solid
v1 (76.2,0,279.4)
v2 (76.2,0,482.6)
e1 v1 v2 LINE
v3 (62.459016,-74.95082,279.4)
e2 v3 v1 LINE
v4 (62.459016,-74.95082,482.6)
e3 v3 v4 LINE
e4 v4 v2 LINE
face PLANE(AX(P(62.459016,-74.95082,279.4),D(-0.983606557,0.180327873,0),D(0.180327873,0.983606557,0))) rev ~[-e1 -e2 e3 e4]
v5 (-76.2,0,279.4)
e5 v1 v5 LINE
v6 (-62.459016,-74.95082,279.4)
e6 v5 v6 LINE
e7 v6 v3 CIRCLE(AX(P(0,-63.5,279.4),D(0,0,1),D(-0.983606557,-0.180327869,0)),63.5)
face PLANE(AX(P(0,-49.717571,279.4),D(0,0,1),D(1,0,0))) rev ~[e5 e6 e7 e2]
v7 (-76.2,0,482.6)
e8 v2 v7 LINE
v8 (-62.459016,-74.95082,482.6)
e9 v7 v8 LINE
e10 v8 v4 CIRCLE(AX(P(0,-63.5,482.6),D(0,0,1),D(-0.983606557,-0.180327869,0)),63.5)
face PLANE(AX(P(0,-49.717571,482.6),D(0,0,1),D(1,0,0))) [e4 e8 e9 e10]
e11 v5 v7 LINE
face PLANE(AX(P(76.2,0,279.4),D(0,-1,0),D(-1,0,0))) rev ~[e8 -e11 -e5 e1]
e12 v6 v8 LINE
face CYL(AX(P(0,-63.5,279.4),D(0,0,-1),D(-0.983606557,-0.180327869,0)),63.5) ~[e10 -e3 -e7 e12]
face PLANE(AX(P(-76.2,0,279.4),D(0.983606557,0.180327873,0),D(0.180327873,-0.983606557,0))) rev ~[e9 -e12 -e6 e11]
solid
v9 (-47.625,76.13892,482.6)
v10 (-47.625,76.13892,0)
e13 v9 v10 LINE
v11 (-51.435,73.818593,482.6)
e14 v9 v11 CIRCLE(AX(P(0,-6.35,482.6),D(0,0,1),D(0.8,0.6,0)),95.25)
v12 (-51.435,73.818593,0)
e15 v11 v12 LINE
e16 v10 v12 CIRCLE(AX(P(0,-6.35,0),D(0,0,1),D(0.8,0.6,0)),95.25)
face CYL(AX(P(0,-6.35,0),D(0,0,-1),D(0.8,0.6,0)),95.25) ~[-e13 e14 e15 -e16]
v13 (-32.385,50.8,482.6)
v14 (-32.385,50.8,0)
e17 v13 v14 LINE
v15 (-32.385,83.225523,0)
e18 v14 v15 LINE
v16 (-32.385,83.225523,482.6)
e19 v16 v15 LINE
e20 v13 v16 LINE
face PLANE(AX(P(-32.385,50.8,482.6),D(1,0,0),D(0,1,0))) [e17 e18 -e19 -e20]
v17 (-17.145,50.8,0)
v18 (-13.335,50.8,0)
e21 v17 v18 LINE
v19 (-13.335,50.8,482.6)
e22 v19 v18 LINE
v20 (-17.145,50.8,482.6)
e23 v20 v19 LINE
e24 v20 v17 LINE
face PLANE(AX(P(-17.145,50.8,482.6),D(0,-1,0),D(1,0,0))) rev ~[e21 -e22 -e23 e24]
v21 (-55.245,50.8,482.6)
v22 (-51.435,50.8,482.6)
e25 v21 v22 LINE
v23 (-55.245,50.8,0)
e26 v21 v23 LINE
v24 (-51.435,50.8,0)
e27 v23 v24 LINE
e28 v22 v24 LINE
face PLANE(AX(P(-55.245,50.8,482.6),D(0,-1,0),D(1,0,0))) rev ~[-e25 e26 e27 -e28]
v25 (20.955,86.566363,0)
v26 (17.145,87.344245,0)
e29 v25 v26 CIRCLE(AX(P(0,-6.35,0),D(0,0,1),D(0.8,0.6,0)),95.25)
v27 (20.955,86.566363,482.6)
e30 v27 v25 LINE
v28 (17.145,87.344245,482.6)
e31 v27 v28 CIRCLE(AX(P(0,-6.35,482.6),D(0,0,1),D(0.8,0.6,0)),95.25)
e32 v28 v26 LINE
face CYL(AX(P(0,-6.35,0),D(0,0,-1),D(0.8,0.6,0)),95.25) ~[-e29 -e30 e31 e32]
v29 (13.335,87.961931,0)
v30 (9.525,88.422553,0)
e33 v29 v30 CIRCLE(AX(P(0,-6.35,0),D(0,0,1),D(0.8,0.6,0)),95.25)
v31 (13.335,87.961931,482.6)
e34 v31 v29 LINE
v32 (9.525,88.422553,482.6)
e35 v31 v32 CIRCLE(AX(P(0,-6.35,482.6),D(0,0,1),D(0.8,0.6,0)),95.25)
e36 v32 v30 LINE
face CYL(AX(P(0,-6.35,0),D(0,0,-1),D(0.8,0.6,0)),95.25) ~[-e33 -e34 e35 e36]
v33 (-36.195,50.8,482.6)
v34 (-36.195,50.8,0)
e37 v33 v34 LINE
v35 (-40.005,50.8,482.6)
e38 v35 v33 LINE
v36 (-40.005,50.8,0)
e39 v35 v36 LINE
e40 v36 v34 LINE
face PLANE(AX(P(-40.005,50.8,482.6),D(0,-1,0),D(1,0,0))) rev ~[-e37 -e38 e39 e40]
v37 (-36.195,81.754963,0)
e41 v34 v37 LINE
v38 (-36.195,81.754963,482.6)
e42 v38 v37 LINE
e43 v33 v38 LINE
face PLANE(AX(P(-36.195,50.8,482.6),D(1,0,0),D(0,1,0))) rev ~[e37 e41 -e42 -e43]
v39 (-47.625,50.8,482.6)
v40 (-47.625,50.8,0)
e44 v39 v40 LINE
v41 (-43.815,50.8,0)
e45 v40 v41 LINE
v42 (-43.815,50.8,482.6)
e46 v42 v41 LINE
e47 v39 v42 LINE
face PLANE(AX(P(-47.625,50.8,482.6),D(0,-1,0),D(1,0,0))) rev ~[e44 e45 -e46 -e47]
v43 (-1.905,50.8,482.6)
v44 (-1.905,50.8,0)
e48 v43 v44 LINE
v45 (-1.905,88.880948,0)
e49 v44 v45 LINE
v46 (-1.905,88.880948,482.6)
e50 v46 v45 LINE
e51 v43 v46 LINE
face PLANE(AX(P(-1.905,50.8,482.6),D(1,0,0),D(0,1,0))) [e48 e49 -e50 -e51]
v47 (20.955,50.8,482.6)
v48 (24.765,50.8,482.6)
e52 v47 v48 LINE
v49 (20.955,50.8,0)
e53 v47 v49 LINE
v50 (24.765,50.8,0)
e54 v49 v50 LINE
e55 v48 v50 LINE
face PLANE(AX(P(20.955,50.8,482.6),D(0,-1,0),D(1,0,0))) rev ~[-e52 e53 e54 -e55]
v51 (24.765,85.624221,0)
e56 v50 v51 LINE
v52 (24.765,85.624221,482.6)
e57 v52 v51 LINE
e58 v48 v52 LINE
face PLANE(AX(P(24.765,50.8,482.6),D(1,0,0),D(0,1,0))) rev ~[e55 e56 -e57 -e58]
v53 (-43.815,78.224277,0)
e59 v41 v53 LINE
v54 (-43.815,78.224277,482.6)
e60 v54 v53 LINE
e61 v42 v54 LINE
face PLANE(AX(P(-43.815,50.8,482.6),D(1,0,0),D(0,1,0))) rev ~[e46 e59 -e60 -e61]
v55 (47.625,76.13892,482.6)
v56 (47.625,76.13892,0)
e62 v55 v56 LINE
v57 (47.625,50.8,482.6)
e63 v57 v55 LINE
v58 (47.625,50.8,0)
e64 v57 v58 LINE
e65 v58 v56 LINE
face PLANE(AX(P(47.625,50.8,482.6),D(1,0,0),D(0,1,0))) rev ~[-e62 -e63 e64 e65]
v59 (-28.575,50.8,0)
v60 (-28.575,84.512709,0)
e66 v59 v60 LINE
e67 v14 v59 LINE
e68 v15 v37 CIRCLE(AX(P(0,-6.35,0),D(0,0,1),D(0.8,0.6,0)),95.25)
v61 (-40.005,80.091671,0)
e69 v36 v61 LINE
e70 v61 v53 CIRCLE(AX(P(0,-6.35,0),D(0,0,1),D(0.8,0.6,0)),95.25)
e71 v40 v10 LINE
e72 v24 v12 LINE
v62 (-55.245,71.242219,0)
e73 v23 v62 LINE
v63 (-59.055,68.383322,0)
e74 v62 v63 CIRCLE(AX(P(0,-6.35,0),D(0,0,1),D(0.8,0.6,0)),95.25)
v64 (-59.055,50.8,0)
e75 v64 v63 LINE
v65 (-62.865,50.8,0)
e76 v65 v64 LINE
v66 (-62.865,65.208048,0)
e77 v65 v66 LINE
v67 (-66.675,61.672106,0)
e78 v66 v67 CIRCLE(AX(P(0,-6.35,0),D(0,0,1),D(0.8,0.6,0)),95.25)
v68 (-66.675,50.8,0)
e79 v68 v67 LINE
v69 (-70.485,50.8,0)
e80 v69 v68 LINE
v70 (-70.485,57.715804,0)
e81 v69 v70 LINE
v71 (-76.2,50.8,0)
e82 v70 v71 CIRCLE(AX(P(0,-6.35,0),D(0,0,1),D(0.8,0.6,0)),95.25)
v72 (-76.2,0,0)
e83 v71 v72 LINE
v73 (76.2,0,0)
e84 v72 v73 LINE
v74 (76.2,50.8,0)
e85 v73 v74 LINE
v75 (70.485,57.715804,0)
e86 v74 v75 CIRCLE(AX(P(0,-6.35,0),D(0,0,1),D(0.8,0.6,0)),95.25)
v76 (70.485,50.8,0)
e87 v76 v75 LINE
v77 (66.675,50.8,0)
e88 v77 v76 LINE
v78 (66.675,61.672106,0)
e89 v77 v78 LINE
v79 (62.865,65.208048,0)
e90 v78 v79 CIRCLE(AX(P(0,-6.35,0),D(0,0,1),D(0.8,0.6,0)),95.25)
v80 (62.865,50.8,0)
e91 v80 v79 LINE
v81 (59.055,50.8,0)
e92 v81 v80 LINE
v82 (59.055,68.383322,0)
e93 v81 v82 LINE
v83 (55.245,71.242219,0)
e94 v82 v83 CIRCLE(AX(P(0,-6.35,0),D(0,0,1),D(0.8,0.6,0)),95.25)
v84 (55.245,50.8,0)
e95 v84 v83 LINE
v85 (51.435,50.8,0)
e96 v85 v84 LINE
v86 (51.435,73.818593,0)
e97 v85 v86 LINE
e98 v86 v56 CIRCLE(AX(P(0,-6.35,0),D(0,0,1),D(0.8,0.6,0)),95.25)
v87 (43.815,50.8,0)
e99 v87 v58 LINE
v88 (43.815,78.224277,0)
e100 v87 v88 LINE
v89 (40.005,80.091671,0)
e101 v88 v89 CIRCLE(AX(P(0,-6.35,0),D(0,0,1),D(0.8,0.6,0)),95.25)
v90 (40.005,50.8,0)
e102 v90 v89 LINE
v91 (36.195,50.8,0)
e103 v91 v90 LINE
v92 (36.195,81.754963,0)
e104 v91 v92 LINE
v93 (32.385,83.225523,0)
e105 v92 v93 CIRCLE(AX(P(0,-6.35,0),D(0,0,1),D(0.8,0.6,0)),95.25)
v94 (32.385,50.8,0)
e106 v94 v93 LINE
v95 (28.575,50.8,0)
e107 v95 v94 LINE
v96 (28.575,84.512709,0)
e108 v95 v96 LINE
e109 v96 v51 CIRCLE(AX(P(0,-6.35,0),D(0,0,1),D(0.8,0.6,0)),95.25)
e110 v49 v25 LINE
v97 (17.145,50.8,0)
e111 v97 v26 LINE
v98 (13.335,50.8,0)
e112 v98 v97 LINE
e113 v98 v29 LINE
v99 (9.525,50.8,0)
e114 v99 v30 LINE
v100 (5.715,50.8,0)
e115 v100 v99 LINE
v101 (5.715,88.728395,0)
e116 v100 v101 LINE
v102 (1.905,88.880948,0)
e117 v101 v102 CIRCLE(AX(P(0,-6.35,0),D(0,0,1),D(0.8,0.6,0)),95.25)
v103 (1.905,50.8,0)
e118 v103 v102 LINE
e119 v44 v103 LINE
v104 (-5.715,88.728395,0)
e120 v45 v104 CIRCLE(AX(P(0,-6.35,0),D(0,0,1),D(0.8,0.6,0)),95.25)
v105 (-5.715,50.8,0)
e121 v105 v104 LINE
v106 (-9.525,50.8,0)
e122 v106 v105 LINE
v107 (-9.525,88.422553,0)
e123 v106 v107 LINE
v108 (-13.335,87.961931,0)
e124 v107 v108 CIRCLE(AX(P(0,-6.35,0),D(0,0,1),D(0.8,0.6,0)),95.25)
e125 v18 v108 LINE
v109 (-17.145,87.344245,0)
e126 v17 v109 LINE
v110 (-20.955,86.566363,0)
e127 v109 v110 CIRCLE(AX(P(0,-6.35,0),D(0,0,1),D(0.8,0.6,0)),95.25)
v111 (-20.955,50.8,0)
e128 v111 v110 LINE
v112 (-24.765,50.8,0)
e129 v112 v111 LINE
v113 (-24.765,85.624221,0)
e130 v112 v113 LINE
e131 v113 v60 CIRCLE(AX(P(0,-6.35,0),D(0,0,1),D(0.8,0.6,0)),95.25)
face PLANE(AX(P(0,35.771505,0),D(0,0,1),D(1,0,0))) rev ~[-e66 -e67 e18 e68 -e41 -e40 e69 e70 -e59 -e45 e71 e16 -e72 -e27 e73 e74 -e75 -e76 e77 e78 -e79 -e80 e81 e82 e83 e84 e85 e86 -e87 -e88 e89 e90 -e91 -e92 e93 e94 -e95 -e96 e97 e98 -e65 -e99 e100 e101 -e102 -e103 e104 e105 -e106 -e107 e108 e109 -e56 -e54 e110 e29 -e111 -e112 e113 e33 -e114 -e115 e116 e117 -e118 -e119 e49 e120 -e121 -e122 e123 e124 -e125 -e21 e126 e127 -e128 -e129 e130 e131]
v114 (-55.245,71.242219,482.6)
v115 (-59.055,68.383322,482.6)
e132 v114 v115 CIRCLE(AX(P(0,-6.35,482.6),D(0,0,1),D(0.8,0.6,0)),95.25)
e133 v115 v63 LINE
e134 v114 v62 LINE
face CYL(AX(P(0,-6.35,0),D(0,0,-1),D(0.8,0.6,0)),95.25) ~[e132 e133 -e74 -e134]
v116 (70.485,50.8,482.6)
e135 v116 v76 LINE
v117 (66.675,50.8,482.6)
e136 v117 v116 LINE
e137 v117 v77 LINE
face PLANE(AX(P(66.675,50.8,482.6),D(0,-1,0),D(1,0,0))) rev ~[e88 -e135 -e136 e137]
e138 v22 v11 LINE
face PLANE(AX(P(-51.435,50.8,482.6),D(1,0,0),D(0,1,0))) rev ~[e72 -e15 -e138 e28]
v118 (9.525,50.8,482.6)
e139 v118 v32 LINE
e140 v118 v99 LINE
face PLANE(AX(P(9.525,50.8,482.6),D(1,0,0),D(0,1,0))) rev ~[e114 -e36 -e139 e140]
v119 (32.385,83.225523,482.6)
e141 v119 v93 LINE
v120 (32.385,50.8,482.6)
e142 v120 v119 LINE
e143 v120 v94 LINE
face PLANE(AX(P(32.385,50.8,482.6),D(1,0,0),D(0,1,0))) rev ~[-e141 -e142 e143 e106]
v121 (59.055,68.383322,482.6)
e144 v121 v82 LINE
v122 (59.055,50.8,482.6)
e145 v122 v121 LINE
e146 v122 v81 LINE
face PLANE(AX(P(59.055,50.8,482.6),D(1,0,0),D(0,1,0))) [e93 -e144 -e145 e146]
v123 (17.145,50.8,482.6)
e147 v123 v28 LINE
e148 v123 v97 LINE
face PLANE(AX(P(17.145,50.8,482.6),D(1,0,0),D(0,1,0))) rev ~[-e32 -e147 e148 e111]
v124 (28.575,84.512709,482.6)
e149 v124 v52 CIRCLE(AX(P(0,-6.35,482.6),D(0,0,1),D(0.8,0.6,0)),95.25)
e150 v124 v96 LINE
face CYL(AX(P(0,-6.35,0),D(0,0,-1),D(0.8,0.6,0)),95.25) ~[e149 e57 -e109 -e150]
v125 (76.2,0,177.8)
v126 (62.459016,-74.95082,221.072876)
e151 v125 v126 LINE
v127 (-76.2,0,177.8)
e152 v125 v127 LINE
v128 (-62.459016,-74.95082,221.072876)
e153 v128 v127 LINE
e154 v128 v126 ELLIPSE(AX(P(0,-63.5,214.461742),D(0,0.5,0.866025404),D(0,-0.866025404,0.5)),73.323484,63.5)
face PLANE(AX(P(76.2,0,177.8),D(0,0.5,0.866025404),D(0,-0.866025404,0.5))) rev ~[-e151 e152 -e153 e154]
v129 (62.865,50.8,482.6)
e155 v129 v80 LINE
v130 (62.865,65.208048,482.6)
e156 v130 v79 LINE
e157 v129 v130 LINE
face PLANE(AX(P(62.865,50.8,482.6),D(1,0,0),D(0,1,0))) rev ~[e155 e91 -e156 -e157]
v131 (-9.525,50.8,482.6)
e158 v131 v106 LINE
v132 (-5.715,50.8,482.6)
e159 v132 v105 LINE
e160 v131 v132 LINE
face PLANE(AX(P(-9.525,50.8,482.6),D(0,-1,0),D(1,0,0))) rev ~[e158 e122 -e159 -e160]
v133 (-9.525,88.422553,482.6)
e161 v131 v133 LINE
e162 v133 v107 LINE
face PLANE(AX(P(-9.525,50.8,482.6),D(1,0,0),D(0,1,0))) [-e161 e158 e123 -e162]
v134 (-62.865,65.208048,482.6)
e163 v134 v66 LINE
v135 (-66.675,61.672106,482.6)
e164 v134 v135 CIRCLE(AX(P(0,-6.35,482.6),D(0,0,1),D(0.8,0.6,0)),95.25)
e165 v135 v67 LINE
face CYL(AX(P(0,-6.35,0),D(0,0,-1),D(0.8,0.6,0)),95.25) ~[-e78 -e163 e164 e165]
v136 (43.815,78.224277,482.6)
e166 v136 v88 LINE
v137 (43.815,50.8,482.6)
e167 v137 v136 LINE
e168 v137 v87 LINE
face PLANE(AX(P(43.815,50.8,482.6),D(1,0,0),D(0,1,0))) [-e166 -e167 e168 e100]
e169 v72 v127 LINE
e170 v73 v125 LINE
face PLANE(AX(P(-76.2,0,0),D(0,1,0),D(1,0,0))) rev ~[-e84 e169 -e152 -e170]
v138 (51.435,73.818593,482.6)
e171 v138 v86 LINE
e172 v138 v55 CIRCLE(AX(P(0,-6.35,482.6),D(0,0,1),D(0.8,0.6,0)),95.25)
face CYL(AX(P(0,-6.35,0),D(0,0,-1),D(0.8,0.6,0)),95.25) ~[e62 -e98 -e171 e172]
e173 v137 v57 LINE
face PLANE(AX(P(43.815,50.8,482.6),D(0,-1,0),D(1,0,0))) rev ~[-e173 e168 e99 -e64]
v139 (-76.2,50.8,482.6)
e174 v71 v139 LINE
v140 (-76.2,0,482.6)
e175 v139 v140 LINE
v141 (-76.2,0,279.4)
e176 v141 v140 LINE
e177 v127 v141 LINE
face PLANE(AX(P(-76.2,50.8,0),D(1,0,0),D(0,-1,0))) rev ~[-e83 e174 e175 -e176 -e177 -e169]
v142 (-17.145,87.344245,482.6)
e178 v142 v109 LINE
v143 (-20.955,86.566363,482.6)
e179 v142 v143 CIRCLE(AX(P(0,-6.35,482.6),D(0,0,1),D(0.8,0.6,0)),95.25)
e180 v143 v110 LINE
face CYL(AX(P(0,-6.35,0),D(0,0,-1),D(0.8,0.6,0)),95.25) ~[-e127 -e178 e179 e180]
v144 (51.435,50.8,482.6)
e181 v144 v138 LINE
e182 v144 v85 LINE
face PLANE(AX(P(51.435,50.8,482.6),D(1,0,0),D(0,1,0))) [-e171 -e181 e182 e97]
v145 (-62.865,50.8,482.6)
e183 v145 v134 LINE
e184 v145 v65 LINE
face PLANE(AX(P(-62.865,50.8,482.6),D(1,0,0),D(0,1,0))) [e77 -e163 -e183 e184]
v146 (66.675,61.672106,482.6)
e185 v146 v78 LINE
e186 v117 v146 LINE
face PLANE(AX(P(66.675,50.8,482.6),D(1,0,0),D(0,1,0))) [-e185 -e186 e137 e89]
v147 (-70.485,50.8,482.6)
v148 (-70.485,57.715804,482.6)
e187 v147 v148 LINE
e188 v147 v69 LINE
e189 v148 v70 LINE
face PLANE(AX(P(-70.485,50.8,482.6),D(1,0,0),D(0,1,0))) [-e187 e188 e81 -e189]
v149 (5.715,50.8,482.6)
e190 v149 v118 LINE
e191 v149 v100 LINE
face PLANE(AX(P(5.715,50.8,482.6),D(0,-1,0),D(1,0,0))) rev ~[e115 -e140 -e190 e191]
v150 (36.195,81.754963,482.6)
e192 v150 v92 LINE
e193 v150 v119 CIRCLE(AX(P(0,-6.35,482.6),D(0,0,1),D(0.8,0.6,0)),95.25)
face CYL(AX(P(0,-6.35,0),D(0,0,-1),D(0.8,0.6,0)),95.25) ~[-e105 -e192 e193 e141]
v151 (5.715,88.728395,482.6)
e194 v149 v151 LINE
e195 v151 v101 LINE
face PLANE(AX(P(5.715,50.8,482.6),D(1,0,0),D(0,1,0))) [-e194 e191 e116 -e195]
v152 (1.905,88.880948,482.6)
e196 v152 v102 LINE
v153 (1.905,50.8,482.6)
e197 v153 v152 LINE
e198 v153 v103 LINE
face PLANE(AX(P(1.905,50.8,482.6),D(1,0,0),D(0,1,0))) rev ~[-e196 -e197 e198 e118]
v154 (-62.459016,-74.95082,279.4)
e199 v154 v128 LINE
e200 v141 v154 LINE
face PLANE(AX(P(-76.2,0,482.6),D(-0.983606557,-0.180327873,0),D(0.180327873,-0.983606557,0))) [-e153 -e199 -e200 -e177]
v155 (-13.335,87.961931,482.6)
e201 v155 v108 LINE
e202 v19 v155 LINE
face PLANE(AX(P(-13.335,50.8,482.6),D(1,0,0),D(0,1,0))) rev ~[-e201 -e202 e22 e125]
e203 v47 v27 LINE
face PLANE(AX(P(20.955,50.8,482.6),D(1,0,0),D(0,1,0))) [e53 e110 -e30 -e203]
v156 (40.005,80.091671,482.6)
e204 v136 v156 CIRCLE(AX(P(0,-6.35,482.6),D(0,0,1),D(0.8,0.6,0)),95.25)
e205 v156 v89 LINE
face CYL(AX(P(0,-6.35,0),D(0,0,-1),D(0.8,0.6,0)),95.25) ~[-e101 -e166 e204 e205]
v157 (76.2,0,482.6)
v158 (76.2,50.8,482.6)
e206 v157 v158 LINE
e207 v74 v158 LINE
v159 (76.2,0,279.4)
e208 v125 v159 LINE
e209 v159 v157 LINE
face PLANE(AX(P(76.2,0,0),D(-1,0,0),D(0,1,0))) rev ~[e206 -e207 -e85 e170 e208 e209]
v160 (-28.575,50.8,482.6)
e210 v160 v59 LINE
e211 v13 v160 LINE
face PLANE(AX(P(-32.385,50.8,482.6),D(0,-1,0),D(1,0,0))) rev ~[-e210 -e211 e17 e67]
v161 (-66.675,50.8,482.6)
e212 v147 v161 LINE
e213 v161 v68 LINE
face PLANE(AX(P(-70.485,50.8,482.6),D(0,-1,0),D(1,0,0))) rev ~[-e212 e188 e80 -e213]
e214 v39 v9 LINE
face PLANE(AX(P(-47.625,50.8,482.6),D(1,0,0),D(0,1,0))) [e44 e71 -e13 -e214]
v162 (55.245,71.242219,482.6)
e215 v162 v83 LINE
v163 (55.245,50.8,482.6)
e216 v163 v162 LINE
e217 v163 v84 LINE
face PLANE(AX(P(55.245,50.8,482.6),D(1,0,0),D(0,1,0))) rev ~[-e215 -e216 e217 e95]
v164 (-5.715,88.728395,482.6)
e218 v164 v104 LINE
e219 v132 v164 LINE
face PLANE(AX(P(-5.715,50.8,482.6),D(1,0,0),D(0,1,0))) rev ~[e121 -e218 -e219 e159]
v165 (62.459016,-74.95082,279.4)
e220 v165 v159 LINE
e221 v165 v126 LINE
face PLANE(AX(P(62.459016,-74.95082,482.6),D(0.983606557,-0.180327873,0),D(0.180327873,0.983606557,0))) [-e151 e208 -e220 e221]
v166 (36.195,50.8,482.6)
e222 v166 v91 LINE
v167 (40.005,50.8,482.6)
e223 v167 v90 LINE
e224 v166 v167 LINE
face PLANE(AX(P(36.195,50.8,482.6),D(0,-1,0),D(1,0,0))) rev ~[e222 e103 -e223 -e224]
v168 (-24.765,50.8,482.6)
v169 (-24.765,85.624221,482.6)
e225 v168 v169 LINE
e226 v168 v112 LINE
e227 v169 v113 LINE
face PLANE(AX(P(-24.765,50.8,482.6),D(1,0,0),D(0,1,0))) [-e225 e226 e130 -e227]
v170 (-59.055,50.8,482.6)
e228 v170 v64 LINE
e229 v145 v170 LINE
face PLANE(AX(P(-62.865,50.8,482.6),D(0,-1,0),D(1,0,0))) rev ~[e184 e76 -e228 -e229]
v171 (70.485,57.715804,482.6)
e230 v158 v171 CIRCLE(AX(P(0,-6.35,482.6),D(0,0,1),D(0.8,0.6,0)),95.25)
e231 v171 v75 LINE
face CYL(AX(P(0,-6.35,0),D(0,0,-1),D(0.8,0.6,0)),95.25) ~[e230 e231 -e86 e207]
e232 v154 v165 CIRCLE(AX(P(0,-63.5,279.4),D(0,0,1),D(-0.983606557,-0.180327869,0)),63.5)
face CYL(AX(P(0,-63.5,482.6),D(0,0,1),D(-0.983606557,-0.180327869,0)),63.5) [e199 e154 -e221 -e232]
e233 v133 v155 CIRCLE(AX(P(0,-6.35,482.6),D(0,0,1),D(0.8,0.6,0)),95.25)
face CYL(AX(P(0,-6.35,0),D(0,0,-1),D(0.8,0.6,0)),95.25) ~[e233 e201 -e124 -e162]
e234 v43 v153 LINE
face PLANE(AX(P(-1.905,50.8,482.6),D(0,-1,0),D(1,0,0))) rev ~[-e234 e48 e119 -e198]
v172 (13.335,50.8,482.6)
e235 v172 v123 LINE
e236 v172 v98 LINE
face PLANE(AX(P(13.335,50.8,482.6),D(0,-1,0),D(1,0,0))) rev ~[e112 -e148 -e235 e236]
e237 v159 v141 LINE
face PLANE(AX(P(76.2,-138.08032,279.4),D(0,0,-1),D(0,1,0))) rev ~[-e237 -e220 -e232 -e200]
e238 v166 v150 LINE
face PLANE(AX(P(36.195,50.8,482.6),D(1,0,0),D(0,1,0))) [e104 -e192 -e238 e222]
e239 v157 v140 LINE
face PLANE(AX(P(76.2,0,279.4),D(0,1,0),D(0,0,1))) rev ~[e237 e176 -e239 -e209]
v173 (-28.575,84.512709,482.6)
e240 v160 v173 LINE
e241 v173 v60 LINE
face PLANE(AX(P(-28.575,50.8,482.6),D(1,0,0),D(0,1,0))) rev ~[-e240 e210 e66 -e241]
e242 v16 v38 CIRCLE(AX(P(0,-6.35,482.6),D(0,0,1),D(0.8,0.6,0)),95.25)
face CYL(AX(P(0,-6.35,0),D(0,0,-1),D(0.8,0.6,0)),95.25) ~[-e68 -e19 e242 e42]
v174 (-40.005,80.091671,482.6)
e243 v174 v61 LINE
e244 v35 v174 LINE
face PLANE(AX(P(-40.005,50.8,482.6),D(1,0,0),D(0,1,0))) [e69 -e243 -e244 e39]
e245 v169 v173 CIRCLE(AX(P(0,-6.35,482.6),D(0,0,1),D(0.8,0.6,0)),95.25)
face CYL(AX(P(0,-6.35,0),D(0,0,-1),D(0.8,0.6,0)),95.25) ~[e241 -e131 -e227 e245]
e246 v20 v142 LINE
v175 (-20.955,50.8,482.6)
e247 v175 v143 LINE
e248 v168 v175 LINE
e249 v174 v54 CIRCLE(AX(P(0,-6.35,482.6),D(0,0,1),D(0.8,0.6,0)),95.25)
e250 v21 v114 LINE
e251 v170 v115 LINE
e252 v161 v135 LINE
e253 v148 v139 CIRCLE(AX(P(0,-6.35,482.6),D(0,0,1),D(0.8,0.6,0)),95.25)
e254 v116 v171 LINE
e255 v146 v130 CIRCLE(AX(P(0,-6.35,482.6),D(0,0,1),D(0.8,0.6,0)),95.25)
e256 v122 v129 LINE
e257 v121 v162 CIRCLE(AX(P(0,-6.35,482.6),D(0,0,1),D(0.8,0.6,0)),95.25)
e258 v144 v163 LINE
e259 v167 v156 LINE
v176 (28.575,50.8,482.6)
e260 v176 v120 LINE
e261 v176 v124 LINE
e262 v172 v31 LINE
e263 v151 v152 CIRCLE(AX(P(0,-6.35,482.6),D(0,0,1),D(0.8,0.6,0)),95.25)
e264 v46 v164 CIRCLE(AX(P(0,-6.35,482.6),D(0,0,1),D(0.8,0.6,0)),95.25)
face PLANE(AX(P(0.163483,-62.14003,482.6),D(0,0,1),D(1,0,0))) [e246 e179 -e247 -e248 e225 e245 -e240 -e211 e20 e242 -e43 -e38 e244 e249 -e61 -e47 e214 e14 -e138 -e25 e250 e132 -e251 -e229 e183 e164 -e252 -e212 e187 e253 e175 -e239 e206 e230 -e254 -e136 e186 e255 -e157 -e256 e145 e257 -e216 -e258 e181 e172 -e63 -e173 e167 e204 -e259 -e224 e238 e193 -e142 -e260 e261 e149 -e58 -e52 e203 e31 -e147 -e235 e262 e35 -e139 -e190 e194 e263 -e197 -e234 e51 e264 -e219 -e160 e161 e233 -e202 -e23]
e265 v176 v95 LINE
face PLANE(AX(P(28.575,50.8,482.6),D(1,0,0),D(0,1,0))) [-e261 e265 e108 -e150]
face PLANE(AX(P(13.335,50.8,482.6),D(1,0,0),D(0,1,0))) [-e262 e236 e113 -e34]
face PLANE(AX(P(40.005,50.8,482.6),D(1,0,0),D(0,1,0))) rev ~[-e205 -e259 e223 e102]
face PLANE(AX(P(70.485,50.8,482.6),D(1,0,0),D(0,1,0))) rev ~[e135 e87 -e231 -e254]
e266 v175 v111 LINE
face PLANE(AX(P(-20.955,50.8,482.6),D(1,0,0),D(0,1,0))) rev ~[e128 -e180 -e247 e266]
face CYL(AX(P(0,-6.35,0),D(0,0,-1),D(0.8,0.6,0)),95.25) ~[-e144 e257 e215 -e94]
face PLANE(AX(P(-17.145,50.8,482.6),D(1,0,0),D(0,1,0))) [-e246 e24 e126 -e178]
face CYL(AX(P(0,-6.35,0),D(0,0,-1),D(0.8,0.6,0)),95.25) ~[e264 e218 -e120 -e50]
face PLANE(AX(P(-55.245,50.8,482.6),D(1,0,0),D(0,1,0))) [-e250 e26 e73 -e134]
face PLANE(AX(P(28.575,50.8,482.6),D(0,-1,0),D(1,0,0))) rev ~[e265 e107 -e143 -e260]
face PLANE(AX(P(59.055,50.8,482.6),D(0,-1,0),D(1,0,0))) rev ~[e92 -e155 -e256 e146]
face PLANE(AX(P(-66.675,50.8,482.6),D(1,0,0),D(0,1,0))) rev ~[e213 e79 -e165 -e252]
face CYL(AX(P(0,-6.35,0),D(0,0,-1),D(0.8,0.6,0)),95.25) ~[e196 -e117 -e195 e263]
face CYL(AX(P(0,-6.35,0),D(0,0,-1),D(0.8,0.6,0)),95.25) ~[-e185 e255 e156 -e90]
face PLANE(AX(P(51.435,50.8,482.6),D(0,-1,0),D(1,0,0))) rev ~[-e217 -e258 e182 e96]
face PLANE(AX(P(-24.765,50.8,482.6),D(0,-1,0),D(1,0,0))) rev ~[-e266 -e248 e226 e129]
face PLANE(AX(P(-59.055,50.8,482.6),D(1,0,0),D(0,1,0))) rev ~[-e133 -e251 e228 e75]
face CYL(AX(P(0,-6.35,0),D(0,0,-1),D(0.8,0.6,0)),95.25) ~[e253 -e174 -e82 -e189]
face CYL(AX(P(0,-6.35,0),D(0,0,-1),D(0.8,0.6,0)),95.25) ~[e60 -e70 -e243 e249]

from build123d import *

# Parameters (mm, degrees)
F1_DEPTH = 482.6
F2_W     = 3.81
F2_H     = 38.1
F3_DEPTH = 482.6
F5_DEPTH = 304.8
F6_W     = 138.08032
F6_H     = 203.2
F7_DEPTH = 254
F9_DEPTH = 203.2


with BuildPart() as f1:
    # F0 (on Top) → F1 (new body)
    with BuildSketch(Plane.XY):
        with BuildLine():
            ThreePointArc((76.2, 50.8), (0, 88.9), (-76.2, 50.8))
            Line((-76.2, 50.8), (-76.2, 0))
            Line((-76.2, 0), (76.2, 0))
            Line((76.2, 0), (76.2, 50.8))
        make_face()
    extrude(amount=F1_DEPTH)

    # F2 (on face) → F3 (cut)
    with BuildSketch(Plane.XY.offset(482.6)):
        with Locations((0, 69.85)):
            Rectangle(F2_W, F2_H)
        with Locations((7.62, 69.85)):
            Rectangle(F2_W, F2_H)
        with Locations((15.24, 69.85)):
            Rectangle(F2_W, F2_H)
        with Locations((22.86, 69.85)):
            Rectangle(F2_W, F2_H)
        with Locations((30.48, 69.85)):
            Rectangle(F2_W, F2_H)
        with Locations((38.1, 69.85)):
            Rectangle(F2_W, F2_H)
        with Locations((45.72, 69.85)):
            Rectangle(F2_W, F2_H)
        with Locations((53.34, 69.85)):
            Rectangle(F2_W, F2_H)
        with Locations((60.96, 69.85)):
            Rectangle(F2_W, F2_H)
        with Locations((68.58, 69.85)):
            Rectangle(F2_W, F2_H)
        with Locations((-7.62, 69.85)):
            Rectangle(F2_W, F2_H)
        with Locations((-15.24, 69.85)):
            Rectangle(F2_W, F2_H)
        with Locations((-22.86, 69.85)):
            Rectangle(F2_W, F2_H)
        with Locations((-30.48, 69.85)):
            Rectangle(F2_W, F2_H)
        with Locations((-38.1, 69.85)):
            Rectangle(F2_W, F2_H)
        with Locations((-45.72, 69.85)):
            Rectangle(F2_W, F2_H)
        with Locations((-53.34, 69.85)):
            Rectangle(F2_W, F2_H)
        with Locations((-60.96, 69.85)):
            Rectangle(F2_W, F2_H)
        with Locations((-68.58, 69.85)):
            Rectangle(F2_W, F2_H)
    extrude(amount=-F3_DEPTH, mode=Mode.SUBTRACT)

    # F4 (on face) → F5 (join)
    with BuildSketch(Plane.XY.offset(482.6)):
        with BuildLine():
            ThreePointArc((0, 0), (-48.782051, -22.848291), (-62.459016, -74.95082))
            ThreePointArc((-62.459016, -74.95082), (0, -127), (62.459016, -74.95082))
            ThreePointArc((62.459016, -74.95082), (63.239219, -69.24902), (63.5, -63.5))
            ThreePointArc((63.5, -63.5), (44.901281, -18.598719), (0, 0))
        make_face()
        with BuildLine():
            Line((-76.2, 0), (-62.459016, -74.95082))
            ThreePointArc((-62.459016, -74.95082), (-48.782051, -22.848291), (0, 0))
            Line((0, 0), (-76.2, 0))
        make_face()
        with BuildLine():
            ThreePointArc((63.5, -63.5), (63.239219, -69.24902), (62.459016, -74.95082))
            Line((62.459016, -74.95082), (76.2, 0))
            Line((76.2, 0), (0, 0))
            ThreePointArc((0, 0), (44.901281, -18.598719), (63.5, -63.5))
        make_face()
    extrude(amount=-F5_DEPTH)

    # F6 (on face) → F7 (cut)
    with BuildSketch(Plane.YZ.offset(76.2)):
        Polygon((-138.08032, 177.8), (0, 177.8), (-138.08032, 257.52071), align=None)
        with Locations((-69.04016, 381)):
            Rectangle(F6_W, F6_H)
    extrude(amount=-F7_DEPTH, mode=Mode.SUBTRACT)


with BuildPart() as f9:
    # F8 (on face) → F9 (new body, through all)
    with BuildSketch(Plane.XY.offset(279.4)):
        with BuildLine():
            Line((76.2, 0), (-76.2, 0))
            Line((-76.2, 0), (-62.459016, -74.95082))
            ThreePointArc((-62.459016, -74.95082), (0, -127), (62.459016, -74.95082))
            Line((62.459016, -74.95082), (76.2, 0))
        make_face()
    extrude(amount=F9_DEPTH)


solid = Compound([f1.part, f9.part])
